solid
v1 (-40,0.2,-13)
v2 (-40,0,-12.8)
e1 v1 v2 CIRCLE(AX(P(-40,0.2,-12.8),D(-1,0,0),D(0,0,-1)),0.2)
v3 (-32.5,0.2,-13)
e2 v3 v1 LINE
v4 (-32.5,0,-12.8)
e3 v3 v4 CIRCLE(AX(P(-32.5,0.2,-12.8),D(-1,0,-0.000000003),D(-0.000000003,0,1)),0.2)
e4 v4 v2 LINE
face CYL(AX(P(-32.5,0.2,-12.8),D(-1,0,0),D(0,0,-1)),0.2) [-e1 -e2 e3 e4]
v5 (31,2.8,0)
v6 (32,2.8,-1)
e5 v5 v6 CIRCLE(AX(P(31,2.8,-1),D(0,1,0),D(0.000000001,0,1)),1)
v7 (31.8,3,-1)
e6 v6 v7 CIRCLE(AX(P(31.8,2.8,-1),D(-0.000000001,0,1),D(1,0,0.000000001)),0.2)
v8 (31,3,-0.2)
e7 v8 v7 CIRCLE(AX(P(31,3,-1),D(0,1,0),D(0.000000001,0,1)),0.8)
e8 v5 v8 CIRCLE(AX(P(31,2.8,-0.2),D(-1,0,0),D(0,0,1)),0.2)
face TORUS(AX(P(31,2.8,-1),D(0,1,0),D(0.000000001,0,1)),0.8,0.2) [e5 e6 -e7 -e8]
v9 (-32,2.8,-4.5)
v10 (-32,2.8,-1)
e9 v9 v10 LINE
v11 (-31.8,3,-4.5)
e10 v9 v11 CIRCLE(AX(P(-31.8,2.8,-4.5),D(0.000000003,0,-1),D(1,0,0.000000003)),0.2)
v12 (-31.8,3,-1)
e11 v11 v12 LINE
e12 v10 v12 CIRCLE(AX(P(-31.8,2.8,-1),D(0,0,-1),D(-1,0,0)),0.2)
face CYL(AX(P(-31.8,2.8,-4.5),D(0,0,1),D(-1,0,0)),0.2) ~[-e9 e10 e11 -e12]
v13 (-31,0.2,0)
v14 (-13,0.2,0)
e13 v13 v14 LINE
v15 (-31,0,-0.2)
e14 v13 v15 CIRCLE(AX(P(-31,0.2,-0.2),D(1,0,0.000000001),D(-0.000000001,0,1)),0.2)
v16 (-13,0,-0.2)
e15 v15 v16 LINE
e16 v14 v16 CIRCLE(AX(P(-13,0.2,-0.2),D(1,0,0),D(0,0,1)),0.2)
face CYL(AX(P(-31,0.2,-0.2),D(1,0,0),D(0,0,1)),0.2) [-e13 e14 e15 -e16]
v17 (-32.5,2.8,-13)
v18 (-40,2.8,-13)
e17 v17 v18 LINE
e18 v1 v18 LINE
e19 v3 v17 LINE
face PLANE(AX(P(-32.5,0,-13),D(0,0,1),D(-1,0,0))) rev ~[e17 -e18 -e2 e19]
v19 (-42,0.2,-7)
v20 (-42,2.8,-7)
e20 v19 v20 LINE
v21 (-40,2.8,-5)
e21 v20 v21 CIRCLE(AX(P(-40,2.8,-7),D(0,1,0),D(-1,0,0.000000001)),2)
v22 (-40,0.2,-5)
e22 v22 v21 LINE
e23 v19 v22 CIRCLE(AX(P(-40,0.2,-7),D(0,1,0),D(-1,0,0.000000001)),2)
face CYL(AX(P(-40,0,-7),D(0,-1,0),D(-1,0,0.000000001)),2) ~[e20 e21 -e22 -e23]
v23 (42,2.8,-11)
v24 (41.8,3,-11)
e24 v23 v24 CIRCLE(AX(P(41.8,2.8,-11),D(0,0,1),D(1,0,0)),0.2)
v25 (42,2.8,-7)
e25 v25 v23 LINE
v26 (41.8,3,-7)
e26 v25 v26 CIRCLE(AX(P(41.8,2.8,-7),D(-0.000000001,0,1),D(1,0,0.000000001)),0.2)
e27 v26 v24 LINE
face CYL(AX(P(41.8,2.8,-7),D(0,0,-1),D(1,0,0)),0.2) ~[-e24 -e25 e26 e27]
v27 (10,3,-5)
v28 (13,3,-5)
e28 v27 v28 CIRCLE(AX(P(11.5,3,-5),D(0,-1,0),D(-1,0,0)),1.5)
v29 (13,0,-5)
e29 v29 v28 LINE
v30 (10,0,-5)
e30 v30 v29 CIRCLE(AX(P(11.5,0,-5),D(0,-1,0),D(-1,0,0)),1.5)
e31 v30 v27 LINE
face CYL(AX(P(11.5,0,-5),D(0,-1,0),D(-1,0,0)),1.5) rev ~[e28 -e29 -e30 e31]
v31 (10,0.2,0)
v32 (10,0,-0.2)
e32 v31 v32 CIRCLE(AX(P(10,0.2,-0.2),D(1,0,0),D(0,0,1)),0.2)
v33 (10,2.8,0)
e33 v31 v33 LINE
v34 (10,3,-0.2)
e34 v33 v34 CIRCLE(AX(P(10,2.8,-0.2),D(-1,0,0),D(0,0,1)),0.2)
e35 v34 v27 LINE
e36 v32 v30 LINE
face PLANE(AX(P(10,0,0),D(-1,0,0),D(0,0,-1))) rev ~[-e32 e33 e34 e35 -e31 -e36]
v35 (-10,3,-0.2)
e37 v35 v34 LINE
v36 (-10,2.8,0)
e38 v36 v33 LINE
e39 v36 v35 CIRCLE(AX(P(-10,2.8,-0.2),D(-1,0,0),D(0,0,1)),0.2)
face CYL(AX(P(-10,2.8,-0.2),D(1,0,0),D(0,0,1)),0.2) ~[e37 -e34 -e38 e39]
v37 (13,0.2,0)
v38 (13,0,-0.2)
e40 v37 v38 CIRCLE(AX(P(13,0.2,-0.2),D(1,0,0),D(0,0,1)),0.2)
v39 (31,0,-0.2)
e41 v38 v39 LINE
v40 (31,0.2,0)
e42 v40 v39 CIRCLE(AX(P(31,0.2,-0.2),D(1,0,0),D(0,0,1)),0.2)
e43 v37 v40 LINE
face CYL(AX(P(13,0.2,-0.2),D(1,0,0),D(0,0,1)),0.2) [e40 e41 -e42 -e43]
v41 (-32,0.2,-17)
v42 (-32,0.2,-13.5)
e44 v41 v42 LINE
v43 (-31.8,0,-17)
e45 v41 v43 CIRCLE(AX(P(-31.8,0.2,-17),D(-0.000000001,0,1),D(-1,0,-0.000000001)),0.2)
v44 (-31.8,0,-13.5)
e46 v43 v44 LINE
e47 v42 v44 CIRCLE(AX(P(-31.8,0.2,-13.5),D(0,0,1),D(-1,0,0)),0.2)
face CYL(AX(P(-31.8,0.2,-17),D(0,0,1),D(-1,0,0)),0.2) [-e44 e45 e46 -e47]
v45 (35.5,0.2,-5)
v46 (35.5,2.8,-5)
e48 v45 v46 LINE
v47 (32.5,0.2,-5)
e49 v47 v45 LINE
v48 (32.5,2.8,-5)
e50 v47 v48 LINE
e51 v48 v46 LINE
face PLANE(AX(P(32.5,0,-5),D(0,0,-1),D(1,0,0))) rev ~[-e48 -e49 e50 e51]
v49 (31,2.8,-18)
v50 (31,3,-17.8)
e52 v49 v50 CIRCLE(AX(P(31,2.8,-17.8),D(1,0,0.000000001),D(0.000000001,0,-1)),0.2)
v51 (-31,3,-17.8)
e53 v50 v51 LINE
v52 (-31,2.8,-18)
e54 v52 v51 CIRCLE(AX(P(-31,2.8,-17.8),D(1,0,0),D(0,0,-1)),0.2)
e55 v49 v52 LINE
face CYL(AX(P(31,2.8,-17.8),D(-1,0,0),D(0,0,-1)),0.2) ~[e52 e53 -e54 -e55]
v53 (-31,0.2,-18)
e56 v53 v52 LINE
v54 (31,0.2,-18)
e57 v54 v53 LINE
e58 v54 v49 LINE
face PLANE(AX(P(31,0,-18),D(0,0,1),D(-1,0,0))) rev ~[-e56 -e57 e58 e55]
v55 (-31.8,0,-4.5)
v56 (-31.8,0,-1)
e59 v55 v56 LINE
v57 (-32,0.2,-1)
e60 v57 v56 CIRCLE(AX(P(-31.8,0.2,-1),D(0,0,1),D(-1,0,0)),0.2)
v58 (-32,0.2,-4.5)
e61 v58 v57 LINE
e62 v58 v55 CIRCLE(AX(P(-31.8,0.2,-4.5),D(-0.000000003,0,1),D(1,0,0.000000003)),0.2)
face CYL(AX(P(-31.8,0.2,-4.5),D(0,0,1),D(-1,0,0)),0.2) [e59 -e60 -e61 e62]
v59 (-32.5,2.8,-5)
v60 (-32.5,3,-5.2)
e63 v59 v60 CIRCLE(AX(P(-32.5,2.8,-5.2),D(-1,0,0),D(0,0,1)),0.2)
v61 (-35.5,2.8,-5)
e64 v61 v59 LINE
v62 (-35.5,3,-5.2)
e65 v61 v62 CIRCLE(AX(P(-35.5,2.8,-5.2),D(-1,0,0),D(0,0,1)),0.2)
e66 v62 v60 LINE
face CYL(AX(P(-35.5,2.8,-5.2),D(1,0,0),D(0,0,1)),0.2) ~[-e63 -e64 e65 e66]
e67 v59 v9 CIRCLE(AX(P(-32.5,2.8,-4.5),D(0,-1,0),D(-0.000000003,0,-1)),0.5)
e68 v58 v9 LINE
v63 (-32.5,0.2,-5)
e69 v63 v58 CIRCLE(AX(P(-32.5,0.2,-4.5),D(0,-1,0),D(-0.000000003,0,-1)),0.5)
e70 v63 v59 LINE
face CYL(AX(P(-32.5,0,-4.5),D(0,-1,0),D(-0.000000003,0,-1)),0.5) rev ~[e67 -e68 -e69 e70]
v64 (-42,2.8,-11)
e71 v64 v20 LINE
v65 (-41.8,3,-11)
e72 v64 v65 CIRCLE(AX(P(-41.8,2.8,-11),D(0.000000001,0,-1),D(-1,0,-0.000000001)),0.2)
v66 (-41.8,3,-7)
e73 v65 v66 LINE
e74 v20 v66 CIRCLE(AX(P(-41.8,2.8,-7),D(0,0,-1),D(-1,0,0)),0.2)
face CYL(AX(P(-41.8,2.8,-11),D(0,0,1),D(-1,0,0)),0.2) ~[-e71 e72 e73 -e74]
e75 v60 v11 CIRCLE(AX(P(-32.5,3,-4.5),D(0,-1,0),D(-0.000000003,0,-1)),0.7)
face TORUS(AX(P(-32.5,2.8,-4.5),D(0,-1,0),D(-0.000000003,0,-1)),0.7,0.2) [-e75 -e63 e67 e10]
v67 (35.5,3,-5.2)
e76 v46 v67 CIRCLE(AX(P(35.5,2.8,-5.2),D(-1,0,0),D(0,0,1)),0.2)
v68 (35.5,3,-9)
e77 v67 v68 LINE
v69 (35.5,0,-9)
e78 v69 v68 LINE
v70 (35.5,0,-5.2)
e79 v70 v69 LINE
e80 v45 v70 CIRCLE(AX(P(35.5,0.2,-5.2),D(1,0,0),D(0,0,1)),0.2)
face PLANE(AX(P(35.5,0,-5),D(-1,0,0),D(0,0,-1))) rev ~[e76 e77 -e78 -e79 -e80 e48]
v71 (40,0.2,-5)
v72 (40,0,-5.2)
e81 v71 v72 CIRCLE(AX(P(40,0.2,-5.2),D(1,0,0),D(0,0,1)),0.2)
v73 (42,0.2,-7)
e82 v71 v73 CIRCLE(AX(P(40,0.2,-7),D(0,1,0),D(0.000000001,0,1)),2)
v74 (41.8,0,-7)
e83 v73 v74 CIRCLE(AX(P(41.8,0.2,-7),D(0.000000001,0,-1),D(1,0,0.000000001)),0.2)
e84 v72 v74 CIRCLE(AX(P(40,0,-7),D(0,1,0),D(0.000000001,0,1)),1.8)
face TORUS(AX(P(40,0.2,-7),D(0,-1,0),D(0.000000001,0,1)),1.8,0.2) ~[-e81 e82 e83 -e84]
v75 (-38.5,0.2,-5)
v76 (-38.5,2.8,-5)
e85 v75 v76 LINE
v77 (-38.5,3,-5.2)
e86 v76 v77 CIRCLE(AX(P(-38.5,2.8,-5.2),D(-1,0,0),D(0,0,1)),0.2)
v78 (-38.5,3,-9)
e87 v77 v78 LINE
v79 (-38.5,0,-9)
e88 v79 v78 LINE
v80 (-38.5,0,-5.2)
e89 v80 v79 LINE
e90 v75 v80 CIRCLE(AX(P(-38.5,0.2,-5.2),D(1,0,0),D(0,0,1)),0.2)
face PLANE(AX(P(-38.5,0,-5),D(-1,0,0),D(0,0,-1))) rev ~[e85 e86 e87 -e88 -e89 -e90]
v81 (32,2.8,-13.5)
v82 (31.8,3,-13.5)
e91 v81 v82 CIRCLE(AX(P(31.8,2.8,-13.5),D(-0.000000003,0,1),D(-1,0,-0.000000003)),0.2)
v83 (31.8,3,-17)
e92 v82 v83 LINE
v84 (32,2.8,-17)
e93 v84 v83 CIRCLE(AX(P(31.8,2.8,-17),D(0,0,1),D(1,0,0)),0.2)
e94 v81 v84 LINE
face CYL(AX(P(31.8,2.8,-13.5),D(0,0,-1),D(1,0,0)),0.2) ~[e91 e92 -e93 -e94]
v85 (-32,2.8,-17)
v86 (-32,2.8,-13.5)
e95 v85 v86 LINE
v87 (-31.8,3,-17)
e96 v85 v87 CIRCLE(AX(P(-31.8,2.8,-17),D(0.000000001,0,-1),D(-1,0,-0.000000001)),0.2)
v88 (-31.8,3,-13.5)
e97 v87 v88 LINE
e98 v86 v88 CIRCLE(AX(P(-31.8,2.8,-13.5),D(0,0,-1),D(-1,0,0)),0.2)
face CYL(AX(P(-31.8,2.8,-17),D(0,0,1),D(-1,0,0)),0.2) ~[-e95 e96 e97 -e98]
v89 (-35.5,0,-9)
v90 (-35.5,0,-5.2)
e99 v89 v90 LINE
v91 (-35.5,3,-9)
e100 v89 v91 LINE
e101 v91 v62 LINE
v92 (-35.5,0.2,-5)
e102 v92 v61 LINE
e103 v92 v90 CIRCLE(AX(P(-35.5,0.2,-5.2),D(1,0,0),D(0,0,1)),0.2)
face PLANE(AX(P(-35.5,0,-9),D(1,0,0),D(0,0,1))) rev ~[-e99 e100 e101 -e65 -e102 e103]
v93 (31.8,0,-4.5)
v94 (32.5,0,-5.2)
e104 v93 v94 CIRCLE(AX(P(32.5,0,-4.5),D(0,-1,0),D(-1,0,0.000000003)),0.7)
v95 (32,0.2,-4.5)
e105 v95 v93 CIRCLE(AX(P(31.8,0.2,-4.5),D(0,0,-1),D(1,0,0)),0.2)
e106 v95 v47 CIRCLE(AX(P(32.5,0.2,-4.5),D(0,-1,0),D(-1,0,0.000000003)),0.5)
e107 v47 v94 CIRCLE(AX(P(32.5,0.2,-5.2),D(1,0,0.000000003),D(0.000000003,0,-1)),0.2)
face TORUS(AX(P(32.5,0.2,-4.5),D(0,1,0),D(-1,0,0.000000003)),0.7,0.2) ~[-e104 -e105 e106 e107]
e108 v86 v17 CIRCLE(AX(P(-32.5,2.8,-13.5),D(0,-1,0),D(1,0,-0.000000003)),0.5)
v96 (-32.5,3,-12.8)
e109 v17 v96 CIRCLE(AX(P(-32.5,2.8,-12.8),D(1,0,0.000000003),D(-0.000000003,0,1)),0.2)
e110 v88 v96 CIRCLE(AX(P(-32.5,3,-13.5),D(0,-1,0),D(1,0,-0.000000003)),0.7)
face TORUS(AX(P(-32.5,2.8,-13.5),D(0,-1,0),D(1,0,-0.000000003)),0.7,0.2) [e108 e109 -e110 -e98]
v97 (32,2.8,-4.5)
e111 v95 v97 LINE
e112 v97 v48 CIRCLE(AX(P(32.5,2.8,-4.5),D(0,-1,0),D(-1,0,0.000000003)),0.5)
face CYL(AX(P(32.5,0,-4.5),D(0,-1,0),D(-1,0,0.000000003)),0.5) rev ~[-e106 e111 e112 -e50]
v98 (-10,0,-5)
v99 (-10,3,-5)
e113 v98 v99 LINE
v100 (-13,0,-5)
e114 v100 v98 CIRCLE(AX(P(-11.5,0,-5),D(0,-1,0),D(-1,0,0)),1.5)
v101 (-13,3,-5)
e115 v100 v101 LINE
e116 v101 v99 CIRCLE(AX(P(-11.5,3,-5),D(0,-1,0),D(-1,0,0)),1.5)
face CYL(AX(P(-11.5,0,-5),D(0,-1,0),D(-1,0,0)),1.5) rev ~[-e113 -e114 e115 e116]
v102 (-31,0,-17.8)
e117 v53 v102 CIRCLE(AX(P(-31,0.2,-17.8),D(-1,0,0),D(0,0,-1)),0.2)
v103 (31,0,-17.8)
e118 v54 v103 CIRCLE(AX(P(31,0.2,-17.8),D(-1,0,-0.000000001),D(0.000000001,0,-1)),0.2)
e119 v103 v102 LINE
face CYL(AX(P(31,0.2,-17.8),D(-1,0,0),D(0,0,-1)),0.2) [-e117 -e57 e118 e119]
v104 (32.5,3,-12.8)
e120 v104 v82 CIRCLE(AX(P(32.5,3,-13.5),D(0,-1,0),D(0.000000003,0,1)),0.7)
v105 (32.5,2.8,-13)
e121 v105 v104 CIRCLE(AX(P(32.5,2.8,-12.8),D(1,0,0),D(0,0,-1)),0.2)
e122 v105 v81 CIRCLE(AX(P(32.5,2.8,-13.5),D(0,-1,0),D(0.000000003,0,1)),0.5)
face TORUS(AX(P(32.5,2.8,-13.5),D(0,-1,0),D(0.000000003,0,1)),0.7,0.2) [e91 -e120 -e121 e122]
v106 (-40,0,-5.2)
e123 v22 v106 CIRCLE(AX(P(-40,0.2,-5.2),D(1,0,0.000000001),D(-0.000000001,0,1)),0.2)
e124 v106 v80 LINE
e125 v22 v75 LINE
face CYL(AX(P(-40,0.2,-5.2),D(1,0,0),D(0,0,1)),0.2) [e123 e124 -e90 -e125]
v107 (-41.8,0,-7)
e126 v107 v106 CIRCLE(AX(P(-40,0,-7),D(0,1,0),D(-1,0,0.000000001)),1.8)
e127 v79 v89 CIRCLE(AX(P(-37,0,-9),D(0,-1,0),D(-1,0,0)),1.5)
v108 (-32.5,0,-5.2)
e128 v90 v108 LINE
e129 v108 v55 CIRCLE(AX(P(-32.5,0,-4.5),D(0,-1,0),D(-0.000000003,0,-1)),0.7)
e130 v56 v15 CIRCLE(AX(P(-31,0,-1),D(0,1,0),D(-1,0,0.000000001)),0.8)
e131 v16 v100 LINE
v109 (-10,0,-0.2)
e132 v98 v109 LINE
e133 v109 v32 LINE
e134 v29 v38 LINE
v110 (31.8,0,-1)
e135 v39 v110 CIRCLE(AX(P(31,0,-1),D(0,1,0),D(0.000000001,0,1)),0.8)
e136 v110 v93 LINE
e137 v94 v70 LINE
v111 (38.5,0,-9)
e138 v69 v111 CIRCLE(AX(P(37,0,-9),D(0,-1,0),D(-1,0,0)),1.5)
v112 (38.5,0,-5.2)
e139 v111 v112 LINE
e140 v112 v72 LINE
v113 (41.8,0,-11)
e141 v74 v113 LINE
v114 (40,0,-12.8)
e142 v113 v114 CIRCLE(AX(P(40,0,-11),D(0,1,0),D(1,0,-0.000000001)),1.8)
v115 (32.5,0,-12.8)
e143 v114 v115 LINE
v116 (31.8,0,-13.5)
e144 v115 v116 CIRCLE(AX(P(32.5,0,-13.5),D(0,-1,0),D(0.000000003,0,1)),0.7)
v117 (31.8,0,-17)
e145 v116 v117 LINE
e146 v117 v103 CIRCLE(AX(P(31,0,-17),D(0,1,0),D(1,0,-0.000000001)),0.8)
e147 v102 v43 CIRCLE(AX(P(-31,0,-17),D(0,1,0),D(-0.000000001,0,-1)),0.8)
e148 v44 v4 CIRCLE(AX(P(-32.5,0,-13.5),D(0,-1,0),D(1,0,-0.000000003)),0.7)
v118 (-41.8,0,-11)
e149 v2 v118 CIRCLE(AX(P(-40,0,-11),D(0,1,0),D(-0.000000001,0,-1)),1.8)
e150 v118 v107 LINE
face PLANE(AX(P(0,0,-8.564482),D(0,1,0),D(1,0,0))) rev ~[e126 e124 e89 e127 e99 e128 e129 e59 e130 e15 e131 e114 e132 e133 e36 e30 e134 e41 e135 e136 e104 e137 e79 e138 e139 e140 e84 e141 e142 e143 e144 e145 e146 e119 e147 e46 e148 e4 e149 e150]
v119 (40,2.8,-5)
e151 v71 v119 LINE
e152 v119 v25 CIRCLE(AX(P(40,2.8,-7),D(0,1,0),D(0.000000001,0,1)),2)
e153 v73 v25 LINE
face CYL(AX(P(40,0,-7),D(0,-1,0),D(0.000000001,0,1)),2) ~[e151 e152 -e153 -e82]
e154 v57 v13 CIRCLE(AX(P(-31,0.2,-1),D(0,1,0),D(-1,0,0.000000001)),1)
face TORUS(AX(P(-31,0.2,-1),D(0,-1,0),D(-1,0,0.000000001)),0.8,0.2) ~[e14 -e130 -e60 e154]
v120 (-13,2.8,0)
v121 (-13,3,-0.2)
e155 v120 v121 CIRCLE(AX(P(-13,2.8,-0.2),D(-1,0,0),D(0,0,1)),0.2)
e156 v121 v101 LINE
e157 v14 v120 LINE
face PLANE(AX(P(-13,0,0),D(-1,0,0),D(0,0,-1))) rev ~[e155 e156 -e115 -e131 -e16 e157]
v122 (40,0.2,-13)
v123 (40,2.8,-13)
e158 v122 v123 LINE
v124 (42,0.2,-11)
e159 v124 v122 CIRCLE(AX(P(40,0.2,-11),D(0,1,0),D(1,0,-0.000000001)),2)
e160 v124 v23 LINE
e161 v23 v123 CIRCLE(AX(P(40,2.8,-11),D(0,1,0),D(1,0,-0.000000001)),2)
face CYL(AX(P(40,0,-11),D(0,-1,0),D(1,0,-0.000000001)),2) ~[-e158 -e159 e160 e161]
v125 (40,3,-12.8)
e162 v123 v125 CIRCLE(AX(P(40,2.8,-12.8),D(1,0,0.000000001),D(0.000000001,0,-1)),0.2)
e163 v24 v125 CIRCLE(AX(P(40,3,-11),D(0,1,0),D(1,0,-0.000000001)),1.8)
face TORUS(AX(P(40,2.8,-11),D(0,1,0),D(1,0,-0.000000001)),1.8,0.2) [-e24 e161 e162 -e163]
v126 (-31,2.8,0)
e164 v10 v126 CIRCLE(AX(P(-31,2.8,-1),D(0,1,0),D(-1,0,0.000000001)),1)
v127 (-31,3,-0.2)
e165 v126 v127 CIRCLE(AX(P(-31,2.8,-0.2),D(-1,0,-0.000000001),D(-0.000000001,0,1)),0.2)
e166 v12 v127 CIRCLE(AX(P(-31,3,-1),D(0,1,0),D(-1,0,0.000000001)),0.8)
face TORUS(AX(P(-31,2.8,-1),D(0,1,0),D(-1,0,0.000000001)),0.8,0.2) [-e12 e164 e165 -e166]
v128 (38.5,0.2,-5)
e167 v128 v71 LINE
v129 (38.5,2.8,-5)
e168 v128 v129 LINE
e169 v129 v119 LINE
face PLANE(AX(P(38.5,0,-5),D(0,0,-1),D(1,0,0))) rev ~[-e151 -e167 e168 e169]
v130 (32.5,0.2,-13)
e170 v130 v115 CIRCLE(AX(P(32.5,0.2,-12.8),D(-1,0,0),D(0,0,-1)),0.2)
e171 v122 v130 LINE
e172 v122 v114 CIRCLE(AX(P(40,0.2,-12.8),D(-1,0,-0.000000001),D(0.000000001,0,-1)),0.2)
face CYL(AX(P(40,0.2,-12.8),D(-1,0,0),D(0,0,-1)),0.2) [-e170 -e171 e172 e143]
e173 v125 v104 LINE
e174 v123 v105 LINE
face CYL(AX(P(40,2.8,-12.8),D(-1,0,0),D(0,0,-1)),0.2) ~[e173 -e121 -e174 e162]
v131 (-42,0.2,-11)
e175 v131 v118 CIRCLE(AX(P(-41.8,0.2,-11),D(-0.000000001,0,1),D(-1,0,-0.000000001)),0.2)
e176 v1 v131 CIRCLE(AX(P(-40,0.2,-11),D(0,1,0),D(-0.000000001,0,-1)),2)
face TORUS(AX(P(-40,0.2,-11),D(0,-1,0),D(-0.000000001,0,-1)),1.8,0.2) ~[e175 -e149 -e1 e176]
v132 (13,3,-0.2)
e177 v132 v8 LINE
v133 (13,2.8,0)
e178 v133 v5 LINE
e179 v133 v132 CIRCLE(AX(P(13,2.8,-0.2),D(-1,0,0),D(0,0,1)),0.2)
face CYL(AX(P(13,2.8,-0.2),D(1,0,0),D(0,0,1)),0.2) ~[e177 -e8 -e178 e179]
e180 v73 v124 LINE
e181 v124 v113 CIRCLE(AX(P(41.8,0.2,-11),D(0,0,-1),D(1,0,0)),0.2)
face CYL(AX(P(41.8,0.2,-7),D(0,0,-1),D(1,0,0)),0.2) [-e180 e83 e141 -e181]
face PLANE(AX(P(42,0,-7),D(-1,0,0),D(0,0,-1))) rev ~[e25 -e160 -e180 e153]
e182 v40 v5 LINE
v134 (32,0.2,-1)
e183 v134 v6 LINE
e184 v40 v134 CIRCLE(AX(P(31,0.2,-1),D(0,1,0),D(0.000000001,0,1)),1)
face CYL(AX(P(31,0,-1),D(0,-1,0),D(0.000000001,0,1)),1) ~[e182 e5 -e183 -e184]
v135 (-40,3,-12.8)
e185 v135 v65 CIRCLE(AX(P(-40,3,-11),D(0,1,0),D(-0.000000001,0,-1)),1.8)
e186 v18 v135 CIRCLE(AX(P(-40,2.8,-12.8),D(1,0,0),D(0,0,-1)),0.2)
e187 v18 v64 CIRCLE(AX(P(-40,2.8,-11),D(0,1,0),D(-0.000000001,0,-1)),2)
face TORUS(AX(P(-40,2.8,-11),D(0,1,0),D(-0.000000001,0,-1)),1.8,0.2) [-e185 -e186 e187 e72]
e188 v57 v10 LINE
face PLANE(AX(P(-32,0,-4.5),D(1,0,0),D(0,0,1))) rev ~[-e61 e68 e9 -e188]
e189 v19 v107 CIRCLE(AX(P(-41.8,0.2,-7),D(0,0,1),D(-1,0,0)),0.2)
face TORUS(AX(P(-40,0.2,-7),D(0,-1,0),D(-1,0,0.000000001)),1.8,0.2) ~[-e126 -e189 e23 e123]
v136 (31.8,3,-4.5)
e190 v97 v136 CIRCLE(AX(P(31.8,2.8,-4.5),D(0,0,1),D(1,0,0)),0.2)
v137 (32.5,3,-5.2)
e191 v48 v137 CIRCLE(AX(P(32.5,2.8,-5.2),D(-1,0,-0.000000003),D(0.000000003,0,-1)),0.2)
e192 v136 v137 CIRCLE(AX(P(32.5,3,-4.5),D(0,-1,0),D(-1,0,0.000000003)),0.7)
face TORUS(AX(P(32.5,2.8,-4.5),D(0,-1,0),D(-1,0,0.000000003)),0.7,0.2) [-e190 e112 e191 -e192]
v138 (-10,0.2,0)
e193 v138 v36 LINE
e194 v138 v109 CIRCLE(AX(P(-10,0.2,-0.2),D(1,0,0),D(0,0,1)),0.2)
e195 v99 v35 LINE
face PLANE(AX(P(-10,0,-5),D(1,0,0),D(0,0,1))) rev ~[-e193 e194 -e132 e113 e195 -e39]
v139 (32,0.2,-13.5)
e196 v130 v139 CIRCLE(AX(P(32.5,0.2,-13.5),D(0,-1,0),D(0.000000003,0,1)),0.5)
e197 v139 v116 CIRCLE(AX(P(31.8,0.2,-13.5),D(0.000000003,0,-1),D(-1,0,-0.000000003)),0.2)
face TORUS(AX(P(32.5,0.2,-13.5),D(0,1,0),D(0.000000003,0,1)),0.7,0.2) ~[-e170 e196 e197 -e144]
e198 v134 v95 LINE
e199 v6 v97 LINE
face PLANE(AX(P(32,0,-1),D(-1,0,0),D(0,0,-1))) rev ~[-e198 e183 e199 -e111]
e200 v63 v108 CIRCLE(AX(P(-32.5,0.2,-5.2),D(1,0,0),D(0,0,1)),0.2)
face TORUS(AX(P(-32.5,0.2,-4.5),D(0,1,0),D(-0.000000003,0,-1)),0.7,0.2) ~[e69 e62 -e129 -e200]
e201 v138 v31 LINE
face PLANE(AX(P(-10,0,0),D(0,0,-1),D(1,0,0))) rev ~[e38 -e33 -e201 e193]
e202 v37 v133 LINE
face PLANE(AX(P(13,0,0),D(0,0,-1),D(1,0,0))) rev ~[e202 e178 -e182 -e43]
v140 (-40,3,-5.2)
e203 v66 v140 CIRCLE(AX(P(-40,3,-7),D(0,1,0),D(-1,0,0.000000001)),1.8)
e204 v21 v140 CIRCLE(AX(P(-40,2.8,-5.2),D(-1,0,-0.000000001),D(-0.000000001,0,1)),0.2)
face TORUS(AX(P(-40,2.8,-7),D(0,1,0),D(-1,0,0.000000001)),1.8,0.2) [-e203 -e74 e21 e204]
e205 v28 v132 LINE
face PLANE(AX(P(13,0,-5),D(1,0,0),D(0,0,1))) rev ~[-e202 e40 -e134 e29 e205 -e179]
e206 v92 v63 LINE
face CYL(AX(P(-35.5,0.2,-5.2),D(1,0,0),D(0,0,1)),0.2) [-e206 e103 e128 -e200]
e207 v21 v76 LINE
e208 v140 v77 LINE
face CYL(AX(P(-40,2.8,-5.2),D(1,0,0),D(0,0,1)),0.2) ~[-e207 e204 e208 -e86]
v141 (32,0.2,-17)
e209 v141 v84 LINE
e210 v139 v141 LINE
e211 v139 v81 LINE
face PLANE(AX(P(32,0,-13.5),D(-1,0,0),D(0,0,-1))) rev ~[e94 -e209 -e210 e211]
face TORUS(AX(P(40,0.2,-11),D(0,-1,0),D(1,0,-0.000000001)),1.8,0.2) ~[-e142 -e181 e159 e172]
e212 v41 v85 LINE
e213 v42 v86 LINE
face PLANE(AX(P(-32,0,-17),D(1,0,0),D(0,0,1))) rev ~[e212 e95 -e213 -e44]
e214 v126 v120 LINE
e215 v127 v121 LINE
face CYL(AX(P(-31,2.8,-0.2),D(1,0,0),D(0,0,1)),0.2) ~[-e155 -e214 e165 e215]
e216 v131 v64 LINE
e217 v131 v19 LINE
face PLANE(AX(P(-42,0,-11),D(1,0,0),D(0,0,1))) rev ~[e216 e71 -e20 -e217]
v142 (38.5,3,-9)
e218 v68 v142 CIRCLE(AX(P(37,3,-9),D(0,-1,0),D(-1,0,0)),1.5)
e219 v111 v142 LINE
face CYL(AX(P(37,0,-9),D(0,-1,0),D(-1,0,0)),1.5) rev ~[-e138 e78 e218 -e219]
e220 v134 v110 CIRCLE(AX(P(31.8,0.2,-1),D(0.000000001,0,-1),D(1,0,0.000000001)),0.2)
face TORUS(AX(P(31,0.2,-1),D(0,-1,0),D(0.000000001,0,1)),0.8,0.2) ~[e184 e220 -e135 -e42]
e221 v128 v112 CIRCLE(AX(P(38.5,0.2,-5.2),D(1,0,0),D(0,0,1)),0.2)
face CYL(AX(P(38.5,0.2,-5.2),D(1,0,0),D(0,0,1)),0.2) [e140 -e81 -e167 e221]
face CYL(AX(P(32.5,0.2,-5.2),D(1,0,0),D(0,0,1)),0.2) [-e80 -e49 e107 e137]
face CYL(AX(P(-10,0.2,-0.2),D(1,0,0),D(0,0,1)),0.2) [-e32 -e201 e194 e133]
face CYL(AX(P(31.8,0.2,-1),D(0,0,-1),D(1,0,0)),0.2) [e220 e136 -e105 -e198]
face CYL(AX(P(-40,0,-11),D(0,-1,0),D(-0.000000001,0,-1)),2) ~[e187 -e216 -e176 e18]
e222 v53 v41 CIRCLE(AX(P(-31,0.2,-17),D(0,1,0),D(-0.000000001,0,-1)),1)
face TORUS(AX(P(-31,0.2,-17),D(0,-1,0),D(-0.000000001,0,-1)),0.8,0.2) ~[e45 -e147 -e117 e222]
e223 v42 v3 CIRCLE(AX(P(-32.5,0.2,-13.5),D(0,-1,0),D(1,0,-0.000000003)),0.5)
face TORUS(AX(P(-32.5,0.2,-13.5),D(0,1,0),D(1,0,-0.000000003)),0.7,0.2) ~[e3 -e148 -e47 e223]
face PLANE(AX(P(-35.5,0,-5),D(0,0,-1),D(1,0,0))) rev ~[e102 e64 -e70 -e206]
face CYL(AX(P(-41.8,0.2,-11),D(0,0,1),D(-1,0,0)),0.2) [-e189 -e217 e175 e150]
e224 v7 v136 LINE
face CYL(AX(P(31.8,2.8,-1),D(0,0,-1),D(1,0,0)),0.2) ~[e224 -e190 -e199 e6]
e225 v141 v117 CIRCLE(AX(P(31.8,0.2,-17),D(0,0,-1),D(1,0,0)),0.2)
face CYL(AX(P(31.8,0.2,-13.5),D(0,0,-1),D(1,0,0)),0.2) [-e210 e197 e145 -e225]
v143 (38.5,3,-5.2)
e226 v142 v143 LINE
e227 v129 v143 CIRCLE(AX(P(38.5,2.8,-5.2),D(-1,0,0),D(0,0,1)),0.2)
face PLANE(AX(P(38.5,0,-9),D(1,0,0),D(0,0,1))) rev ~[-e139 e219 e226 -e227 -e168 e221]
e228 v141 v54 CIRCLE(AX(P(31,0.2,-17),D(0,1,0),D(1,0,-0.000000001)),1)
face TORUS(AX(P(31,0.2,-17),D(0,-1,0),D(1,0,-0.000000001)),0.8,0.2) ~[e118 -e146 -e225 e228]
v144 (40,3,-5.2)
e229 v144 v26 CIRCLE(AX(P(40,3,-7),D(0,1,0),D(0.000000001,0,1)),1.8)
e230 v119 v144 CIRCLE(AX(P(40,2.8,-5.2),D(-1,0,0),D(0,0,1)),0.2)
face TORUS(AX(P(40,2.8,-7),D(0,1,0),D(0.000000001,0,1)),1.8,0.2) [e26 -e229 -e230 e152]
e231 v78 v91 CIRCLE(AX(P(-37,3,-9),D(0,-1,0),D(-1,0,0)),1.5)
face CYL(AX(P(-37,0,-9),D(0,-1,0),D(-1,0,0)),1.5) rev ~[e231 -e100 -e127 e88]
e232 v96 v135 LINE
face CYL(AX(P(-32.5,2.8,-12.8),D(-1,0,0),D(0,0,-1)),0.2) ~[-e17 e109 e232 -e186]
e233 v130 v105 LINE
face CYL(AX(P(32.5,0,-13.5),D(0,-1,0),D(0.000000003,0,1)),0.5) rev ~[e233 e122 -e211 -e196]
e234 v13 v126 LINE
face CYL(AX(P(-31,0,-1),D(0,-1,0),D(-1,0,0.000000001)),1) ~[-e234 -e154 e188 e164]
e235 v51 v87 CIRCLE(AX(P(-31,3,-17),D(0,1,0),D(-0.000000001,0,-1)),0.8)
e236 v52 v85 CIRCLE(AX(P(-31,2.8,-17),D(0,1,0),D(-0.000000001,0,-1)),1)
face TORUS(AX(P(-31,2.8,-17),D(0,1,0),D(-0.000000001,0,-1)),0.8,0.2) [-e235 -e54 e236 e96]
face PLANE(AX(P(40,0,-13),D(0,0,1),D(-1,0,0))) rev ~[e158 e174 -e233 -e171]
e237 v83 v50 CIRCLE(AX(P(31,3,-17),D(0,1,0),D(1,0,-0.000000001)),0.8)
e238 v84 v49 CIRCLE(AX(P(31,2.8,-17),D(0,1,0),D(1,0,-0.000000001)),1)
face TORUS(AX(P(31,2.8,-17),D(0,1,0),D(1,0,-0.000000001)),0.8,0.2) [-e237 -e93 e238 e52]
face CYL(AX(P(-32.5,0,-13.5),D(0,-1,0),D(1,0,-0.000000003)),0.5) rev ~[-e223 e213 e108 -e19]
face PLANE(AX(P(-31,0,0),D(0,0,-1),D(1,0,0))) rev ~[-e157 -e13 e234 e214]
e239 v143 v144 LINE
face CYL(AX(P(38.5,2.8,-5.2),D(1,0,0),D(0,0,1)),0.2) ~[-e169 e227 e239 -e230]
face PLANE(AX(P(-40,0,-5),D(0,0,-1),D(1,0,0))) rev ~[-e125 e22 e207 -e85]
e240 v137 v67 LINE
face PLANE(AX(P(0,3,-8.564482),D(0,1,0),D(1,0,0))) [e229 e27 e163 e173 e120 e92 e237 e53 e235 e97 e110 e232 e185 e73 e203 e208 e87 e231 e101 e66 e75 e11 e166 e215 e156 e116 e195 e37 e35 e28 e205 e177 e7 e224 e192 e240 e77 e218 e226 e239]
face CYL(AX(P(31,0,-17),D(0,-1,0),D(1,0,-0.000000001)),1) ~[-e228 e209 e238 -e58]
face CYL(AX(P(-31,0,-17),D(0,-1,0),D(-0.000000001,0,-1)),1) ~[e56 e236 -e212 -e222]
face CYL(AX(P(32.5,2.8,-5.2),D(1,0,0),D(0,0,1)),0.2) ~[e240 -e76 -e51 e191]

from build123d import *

# Parameters (mm, degrees)
BOSS_EXTRUDE1_DEPTH = 3
FILLET1_R           = 0.2


with BuildPart() as part:
    # Sketch1 → Boss-Extrude1 (new body)
    with BuildSketch(Plane(origin=(0, 0, 0), x_dir=(1, 0, 0), z_dir=(0, 1, 0))):
        with BuildLine():
            Line((-10, 5), (-10, 0))
            Line((-10, 0), (10, 0))
            Line((10, 0), (10, 5))
            ThreePointArc((10, 5), (11.5, 6.5), (13, 5))
            Line((13, 5), (13, 0))
            Line((13, 0), (31, 0))
            ThreePointArc((31, 0), (31.707106781, 0.292893219), (32, 1))
            Line((32, 1), (32, 4.5))
            ThreePointArc((32, 4.5), (32.146446609, 4.853553391), (32.5, 5))
            Line((32.5, 5), (35.5, 5))
            Line((35.5, 5), (35.5, 9))
            ThreePointArc((35.5, 9), (37, 10.5), (38.5, 9))
            Line((38.5, 9), (38.5, 5))
            Line((38.5, 5), (40, 5))
            ThreePointArc((40, 5), (41.414213562, 5.585786438), (42, 7))
            Line((42, 7), (42, 11))
            ThreePointArc((42, 11), (41.414213562, 12.414213562), (40, 13))
            Line((40, 13), (32.5, 13))
            ThreePointArc((32.5, 13), (32.146446609, 13.146446609), (32, 13.5))
            Line((32, 13.5), (32, 17))
            ThreePointArc((32, 17), (31.707106781, 17.707106781), (31, 18))
            Line((31, 18), (-31, 18))
            ThreePointArc((-31, 18), (-31.707106781, 17.707106781), (-32, 17))
            Line((-32, 17), (-32, 13.5))
            ThreePointArc((-32, 13.5), (-32.146446609, 13.146446609), (-32.5, 13))
            Line((-32.5, 13), (-40, 13))
            ThreePointArc((-40, 13), (-41.414213562, 12.414213562), (-42, 11))
            Line((-42, 11), (-42, 7))
            ThreePointArc((-42, 7), (-41.414213562, 5.585786438), (-40, 5))
            Line((-40, 5), (-38.5, 5))
            Line((-38.5, 5), (-38.5, 9))
            ThreePointArc((-38.5, 9), (-37, 10.5), (-35.5, 9))
            Line((-35.5, 9), (-35.5, 5))
            Line((-35.5, 5), (-32.5, 5))
            ThreePointArc((-32.5, 5), (-32.146446609, 4.853553391), (-32, 4.5))
            Line((-32, 4.5), (-32, 1))
            ThreePointArc((-32, 1), (-31.707106781, 0.292893219), (-31, 0))
            Line((-31, 0), (-13, 0))
            Line((-13, 0), (-13, 5))
            ThreePointArc((-13, 5), (-11.5, 6.5), (-10, 5))
        make_face()
    extrude(amount=BOSS_EXTRUDE1_DEPTH)

    # Fillet1
    fillet1_edges = [part.edges().sort_by_distance(p)[0] for p in [
        (0, 3, 0),
        (-34, 3, -5),
        (-32.146446609, 3, -4.853553391),
        (-32, 3, -2.75),
        (-31.707106781, 3, -0.292893219),
        (-22, 3, 0),
        (22, 3, 0),
        (31.707106781, 3, -0.292893219),
        (32, 3, -2.75),
        (32.146446609, 3, -4.853553391),
        (-22, 0, 0),
        (34, 3, -5),
        (-31.707106781, 0, -0.292893219),
        (-32, 0, -2.75),
        (-32.146446609, 0, -4.853553391),
        (-34, 0, -5),
        (-39.25, 0, -5),
        (-41.414213562, 0, -5.585786438),
        (-42, 0, -9),
        (-41.414213562, 0, -12.414213562),
        (-36.25, 0, -13),
        (-32.146446609, 0, -13.146446609),
        (-32, 0, -15.25),
        (-31.707106781, 0, -17.707106781),
        (0, 0, -18),
        (31.707106781, 0, -17.707106781),
        (32, 0, -15.25),
        (32.146446609, 0, -13.146446609),
        (36.25, 0, -13),
        (41.414213562, 0, -12.414213562),
        (42, 0, -9),
        (41.414213562, 0, -5.585786438),
        (39.25, 0, -5),
        (34, 0, -5),
        (32.146446609, 0, -4.853553391),
        (32, 0, -2.75),
        (39.25, 3, -5),
        (31.707106781, 0, -0.292893219),
        (22, 0, 0),
        (0, 0, 0),
        (41.414213562, 3, -5.585786438),
        (42, 3, -9),
        (41.414213562, 3, -12.414213562),
        (36.25, 3, -13),
        (32.146446609, 3, -13.146446609),
        (32, 3, -15.25),
        (31.707106781, 3, -17.707106781),
        (0, 3, -18),
        (-31.707106781, 3, -17.707106781),
        (-32, 3, -15.25),
        (-32.146446609, 3, -13.146446609),
        (-36.25, 3, -13),
        (-41.414213562, 3, -12.414213562),
        (-42, 3, -9),
        (-41.414213562, 3, -5.585786438),
        (-39.25, 3, -5),
    ]]
    fillet(fillet1_edges, radius=FILLET1_R)


solid = part.part
